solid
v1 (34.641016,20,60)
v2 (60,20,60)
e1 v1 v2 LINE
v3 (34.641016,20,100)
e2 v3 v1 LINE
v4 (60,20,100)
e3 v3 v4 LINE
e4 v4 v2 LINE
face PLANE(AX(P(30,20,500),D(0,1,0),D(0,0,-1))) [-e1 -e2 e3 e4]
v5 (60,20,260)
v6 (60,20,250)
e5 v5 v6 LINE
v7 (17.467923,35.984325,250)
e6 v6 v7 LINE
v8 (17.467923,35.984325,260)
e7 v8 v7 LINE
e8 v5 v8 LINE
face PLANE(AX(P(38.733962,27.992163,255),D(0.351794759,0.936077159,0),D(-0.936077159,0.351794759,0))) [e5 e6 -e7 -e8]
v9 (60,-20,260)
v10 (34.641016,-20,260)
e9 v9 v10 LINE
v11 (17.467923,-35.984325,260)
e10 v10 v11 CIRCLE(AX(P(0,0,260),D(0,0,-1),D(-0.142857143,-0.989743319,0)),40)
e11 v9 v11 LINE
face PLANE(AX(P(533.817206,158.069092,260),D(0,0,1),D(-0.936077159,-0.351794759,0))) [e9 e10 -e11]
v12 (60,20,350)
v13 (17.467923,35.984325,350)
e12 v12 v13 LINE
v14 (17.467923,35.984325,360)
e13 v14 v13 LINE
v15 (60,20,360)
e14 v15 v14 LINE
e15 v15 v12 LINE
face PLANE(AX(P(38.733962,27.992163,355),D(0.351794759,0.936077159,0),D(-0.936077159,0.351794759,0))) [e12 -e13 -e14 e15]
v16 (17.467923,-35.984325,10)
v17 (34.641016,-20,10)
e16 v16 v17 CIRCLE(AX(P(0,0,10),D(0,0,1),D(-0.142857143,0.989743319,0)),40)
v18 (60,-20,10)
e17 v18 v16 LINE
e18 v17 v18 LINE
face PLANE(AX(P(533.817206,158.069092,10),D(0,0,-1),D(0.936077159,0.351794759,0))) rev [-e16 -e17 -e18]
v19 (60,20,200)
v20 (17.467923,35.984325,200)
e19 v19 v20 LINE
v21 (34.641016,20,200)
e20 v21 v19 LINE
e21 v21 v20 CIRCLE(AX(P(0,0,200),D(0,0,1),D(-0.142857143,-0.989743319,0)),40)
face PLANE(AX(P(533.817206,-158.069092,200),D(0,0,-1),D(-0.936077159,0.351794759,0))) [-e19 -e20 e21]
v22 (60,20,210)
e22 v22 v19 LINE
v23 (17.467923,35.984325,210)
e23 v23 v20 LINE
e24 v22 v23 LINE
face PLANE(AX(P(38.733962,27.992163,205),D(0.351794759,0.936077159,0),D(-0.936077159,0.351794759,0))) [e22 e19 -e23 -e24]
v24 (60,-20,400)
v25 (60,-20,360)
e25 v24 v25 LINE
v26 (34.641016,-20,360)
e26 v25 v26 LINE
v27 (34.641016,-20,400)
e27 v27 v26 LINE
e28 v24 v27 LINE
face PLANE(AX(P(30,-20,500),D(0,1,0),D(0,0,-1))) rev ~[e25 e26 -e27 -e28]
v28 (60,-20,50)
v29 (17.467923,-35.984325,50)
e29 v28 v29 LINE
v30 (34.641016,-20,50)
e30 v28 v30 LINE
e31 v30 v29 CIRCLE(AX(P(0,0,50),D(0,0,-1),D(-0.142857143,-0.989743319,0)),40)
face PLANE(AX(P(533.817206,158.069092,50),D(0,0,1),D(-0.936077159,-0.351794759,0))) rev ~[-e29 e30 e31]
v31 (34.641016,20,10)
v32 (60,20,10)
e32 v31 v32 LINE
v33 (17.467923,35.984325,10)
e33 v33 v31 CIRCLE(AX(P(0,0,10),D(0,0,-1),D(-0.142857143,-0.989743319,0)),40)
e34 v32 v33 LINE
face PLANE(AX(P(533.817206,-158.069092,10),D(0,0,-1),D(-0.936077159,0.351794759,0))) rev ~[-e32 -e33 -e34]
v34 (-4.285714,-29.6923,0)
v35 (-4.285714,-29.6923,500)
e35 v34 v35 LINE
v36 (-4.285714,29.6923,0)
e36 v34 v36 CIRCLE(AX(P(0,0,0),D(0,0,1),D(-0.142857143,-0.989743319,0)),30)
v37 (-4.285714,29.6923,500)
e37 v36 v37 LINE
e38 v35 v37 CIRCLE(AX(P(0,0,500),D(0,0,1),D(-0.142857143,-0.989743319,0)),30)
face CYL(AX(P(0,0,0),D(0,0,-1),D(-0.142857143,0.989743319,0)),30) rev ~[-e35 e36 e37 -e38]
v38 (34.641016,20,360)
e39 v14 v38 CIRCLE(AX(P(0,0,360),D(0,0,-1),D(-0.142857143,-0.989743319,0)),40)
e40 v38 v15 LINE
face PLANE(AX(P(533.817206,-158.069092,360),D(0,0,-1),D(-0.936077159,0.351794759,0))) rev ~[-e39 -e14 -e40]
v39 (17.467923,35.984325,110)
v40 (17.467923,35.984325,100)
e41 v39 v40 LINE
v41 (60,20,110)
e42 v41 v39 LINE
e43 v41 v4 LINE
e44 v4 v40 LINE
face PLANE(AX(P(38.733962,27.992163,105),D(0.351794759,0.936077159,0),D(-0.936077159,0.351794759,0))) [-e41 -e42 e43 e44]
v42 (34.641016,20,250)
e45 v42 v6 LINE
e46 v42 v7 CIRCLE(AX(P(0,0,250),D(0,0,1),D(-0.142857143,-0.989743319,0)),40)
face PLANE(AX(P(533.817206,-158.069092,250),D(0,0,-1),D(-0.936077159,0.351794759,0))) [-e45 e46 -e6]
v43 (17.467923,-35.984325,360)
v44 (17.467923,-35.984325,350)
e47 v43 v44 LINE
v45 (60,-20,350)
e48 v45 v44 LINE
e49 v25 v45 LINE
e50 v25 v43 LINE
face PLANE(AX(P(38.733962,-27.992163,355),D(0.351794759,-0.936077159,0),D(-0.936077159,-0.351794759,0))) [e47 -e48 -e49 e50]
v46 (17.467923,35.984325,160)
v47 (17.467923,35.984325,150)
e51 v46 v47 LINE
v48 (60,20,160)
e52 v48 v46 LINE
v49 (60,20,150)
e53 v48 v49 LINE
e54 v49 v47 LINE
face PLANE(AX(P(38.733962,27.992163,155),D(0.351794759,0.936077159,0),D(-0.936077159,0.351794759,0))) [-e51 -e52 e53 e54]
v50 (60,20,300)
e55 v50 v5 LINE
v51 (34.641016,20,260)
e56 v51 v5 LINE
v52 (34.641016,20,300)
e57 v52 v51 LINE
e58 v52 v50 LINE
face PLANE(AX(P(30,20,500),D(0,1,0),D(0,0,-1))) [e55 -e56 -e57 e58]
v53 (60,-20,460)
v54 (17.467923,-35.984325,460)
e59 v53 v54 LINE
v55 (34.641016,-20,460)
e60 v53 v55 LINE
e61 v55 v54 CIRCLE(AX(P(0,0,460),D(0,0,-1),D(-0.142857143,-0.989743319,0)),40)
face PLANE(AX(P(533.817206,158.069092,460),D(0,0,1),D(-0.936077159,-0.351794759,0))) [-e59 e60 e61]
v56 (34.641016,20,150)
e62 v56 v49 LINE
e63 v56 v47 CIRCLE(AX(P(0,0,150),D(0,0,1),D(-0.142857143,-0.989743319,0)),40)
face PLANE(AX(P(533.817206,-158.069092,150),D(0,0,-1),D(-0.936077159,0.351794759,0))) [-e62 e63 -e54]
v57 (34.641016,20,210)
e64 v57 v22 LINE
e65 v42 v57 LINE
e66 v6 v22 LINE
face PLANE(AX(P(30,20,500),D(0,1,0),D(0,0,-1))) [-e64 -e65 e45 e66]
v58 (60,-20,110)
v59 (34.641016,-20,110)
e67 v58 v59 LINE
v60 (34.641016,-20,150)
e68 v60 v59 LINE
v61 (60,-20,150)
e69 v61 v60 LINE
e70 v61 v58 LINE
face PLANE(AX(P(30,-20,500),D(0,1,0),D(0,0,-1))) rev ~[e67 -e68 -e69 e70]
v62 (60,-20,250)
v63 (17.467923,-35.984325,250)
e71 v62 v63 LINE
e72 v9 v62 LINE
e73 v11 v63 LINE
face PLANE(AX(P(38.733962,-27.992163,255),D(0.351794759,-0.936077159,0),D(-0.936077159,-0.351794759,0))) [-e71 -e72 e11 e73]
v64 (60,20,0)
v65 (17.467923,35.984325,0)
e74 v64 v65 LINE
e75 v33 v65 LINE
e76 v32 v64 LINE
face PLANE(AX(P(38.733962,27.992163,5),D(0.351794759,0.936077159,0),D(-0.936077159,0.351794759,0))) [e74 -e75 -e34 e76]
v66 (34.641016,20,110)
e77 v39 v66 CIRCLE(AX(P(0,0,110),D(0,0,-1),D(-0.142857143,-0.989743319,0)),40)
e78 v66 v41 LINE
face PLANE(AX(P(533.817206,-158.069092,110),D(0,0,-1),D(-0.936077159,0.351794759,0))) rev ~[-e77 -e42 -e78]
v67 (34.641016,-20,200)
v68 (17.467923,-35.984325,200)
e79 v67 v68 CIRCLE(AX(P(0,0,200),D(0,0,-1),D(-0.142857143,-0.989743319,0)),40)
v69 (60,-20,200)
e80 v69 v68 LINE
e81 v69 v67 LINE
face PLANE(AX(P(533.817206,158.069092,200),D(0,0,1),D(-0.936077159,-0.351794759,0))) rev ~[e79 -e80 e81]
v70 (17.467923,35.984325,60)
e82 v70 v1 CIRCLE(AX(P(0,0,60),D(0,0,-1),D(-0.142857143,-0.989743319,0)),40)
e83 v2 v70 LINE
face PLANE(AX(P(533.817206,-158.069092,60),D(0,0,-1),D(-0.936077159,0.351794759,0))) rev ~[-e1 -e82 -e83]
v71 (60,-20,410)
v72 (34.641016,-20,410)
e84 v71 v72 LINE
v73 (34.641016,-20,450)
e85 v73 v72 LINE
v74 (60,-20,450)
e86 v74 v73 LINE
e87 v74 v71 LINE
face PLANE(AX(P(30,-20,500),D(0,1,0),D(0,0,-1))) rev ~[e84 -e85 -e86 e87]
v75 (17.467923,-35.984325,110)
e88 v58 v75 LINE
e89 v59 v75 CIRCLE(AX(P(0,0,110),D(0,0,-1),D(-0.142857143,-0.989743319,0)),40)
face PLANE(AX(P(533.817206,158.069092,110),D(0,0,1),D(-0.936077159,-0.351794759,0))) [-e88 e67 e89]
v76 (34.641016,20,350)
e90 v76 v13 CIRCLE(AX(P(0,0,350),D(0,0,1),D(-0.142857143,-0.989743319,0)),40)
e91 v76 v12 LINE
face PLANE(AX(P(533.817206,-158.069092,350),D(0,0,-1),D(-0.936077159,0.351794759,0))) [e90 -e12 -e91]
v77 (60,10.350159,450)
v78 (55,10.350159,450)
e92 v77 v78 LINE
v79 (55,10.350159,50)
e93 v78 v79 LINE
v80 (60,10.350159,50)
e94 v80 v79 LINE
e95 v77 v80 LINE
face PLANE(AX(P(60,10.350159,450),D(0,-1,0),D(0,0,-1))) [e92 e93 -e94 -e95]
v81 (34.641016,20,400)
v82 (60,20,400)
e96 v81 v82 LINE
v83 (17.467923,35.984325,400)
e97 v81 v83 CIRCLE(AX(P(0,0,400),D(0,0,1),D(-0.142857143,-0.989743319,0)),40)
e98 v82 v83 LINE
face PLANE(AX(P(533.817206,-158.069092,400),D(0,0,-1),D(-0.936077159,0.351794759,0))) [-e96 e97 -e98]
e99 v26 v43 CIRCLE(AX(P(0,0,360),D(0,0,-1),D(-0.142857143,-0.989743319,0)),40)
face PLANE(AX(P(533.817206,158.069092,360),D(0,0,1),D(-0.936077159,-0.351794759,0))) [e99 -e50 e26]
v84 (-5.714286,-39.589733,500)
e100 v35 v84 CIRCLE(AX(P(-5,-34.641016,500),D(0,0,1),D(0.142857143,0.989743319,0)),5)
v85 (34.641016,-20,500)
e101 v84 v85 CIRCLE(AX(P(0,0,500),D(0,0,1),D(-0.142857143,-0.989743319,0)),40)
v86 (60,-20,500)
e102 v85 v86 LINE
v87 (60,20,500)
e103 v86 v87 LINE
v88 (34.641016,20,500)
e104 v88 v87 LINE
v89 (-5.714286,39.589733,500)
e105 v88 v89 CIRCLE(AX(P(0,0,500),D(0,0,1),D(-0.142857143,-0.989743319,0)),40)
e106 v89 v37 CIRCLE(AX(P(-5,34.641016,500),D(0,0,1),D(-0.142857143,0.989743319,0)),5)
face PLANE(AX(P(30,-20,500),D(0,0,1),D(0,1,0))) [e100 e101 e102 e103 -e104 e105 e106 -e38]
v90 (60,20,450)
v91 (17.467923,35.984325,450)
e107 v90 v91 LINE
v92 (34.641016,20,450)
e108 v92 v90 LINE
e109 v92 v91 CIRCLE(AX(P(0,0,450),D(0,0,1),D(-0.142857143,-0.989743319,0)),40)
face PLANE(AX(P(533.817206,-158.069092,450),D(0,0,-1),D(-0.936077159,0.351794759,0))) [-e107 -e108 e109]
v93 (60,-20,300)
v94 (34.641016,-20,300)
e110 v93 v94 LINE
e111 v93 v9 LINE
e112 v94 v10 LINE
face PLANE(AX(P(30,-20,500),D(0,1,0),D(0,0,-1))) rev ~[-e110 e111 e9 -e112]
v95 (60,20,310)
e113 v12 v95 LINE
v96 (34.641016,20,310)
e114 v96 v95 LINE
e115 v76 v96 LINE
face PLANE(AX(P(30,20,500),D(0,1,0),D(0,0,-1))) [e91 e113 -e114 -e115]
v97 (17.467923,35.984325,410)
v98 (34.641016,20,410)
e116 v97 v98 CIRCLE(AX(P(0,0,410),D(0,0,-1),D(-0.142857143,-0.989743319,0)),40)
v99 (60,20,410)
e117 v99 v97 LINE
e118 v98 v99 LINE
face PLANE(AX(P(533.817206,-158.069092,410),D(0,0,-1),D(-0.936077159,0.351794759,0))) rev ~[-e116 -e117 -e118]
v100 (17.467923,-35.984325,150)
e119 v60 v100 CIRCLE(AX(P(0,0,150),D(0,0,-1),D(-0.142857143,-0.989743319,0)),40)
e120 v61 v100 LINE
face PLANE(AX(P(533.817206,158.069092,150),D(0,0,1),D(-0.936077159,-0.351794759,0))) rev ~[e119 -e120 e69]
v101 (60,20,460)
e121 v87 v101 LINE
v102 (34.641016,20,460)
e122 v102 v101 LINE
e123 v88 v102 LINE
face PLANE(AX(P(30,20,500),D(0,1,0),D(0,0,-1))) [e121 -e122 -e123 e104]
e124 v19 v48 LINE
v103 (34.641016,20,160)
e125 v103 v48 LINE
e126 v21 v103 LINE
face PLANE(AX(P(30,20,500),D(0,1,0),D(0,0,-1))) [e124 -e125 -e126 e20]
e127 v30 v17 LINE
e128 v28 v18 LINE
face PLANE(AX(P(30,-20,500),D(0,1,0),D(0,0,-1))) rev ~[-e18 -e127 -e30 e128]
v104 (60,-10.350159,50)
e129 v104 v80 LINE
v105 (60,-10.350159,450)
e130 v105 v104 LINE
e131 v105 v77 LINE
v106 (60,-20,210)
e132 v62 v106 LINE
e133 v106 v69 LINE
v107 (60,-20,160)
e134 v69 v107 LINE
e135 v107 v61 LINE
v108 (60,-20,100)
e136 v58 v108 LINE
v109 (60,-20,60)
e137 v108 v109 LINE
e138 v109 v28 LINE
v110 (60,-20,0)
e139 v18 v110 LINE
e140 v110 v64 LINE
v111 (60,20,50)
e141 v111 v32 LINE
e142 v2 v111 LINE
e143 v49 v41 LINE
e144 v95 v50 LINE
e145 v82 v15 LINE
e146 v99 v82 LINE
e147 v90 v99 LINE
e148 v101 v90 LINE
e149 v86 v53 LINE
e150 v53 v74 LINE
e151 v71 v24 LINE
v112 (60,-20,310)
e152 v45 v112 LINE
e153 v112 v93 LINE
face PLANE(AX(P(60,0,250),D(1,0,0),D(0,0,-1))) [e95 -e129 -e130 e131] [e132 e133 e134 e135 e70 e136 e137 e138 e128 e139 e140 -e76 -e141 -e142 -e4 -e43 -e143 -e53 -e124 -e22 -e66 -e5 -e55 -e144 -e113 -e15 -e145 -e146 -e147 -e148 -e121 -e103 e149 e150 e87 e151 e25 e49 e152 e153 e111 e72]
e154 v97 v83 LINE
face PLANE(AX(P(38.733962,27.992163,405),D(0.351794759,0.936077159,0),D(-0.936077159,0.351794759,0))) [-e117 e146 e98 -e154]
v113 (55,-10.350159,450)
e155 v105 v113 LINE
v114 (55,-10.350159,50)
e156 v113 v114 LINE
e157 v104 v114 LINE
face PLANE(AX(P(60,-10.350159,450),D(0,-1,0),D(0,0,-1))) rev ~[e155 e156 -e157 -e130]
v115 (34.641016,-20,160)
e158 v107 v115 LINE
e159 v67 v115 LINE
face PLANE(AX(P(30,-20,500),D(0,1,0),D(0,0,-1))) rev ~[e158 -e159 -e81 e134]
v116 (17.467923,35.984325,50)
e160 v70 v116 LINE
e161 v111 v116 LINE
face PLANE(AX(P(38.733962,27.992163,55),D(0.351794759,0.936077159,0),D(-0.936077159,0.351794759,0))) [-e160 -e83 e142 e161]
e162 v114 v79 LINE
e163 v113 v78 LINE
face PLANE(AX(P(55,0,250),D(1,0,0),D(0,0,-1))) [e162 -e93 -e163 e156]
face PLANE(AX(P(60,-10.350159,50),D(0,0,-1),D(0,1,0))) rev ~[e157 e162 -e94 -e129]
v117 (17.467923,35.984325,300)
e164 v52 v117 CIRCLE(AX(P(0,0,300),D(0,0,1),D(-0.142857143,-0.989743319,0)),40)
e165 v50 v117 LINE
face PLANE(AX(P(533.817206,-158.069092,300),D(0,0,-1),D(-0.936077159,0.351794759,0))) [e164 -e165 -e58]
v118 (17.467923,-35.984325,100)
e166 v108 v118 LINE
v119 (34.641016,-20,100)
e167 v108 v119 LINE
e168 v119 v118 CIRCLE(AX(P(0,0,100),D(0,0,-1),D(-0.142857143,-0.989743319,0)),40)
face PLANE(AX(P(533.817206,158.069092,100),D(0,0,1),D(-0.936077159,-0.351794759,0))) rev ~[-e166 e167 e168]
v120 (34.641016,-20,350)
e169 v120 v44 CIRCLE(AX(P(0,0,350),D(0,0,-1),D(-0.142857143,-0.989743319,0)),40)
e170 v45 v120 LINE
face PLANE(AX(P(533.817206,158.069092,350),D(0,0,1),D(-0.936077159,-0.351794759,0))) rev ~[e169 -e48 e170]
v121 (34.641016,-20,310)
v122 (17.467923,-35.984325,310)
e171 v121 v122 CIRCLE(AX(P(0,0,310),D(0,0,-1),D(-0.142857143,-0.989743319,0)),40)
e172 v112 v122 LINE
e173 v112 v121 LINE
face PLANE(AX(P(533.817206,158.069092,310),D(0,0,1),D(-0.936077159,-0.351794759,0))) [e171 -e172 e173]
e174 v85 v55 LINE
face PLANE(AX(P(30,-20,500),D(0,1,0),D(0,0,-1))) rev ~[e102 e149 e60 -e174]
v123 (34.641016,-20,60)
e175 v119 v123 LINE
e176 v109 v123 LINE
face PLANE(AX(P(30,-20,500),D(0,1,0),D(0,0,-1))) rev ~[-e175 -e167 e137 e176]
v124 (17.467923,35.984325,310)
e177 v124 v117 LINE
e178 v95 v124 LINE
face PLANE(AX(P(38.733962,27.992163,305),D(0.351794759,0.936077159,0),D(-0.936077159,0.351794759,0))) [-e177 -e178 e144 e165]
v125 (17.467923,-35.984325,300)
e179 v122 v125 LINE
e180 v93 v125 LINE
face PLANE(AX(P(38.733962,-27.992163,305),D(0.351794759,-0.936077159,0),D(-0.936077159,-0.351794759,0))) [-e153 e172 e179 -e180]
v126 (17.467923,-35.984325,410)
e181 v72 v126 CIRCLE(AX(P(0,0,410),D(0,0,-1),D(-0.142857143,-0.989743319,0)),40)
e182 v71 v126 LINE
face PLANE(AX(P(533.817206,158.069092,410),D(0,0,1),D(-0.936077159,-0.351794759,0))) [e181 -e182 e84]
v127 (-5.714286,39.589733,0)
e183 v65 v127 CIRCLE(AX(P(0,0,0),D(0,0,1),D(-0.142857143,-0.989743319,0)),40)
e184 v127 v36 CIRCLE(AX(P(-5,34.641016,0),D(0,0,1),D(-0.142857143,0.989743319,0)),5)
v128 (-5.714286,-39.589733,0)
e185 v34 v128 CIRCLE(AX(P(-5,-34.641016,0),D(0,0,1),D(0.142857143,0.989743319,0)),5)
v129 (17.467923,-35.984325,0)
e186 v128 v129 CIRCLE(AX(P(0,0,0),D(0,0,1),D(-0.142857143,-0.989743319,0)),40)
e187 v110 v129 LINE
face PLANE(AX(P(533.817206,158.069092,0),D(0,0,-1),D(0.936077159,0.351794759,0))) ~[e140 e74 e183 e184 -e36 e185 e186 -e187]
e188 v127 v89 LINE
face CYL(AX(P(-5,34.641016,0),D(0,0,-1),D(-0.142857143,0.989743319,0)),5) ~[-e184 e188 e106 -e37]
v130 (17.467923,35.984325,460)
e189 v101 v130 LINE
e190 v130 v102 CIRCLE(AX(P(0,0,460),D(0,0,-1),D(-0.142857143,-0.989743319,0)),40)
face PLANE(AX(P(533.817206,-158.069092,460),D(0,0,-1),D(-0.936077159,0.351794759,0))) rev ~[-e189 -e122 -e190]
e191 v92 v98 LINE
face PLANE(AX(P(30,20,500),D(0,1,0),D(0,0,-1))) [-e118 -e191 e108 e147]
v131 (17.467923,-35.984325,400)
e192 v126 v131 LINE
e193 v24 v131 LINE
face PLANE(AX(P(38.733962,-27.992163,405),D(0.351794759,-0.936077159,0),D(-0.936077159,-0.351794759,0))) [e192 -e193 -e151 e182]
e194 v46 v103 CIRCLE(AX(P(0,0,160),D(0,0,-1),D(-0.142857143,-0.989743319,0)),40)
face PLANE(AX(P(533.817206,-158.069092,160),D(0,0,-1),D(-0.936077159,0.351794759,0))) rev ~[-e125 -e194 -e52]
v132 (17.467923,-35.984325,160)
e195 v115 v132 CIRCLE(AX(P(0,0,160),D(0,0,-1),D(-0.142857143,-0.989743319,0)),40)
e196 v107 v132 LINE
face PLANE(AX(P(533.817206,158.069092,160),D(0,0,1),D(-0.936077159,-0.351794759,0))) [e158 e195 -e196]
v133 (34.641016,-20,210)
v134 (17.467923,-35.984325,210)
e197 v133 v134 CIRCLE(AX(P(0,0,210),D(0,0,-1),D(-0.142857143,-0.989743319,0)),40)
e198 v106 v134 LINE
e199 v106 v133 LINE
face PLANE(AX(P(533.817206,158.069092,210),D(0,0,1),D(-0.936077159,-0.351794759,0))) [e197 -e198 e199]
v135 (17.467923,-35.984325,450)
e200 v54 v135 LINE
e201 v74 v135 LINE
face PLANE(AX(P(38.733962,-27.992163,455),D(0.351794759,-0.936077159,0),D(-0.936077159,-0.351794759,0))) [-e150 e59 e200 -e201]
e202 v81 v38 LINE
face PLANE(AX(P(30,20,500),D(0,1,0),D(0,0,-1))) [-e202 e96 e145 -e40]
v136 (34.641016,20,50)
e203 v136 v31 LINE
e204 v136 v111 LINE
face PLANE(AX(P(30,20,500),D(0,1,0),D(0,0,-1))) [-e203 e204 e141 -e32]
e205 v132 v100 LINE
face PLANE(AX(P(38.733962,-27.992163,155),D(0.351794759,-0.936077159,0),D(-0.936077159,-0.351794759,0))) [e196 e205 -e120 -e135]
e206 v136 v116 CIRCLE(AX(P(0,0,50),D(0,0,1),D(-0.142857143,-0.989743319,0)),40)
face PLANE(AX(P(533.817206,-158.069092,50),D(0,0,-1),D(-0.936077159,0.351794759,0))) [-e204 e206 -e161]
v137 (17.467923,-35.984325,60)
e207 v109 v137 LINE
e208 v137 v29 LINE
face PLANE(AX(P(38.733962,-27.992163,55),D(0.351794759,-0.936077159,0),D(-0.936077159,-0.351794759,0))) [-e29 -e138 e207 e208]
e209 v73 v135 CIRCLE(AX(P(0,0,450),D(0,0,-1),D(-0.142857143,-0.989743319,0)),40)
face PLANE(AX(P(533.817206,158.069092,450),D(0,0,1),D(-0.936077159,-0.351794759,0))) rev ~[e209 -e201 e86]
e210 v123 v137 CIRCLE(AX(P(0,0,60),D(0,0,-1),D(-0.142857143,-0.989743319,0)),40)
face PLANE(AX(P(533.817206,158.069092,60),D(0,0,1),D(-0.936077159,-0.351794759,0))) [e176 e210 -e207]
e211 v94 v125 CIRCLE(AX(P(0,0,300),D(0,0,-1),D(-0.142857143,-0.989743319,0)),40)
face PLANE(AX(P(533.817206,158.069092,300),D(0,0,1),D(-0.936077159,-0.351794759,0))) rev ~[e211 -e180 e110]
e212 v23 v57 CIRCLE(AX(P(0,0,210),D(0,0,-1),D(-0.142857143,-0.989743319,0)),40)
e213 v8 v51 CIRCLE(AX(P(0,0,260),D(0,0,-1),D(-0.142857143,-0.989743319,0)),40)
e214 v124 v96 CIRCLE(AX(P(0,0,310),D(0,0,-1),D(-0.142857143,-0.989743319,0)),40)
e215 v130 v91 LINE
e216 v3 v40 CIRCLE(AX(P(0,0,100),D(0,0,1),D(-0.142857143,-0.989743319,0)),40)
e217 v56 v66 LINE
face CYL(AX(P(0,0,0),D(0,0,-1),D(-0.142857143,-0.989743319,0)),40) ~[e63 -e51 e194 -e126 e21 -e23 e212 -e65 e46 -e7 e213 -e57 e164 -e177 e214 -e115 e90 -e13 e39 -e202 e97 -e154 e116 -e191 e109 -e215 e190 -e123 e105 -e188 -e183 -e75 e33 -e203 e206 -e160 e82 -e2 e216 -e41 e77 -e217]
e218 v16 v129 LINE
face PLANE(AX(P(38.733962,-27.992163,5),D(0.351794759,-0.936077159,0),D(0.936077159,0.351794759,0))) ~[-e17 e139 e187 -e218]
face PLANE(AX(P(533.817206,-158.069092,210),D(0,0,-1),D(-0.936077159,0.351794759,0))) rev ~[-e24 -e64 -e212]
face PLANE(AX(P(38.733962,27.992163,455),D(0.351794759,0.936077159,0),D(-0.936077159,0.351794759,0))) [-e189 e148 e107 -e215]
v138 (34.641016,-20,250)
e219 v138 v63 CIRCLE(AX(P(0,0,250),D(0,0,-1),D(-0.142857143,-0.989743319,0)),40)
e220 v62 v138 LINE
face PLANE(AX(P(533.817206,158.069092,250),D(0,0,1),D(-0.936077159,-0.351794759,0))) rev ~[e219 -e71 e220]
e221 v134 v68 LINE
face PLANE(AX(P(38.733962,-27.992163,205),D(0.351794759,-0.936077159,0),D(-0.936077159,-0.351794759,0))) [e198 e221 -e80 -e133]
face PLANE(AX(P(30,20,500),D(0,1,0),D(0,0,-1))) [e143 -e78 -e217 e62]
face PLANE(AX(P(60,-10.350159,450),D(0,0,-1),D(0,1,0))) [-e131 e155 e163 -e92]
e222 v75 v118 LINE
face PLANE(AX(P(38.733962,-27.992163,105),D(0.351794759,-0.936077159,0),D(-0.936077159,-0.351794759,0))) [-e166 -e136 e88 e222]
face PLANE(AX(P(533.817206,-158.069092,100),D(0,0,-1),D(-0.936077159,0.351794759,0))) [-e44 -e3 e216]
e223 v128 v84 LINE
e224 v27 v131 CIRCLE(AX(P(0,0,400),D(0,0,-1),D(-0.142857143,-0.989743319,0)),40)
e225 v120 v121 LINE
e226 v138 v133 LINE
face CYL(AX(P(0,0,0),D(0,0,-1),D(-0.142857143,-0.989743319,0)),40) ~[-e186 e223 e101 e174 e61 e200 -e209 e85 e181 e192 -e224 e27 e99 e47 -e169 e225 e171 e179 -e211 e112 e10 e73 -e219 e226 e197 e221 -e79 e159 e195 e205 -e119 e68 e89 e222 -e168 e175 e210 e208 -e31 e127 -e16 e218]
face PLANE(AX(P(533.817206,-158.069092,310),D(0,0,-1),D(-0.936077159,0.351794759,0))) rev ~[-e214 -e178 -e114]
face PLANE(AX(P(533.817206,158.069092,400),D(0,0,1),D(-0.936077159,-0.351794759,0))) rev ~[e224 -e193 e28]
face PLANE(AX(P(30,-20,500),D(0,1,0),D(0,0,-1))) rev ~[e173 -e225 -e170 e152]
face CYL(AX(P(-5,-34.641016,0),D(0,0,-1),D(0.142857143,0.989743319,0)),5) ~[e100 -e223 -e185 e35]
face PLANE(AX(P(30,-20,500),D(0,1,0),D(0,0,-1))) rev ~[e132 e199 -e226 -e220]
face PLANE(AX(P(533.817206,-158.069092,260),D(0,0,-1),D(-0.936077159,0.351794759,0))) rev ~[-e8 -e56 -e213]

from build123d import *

# Parameters (mm, degrees)
BOSS_EXTRUDE1_DEPTH     = 500
BOSS_EXTRUDE2_START     = 30
SKETCH2_W               = 500
SKETCH2_H               = 40
BOSS_EXTRUDE2_DEPTH     = 30
RIB1_REACH              = 507.173
SKETCH4_WALL_W          = 1057.782982674
SKETCH4_WALL_H          = 10
LPATTERN1_COUNT         = 10
LPATTERN1_PITCH         = 50
MIRROR1_COPY_1_REACH    = 507.173
MIRROR1_COPY_1_SKETCH_W = 1057.782982674
MIRROR1_COPY_1_SKETCH_H = 10
MIRROR1_COPY_2_REACH    = 507.173
MIRROR1_COPY_2_SKETCH_W = 1057.782982674
MIRROR1_COPY_2_SKETCH_H = 10
MIRROR1_COPY_3_REACH    = 507.173
MIRROR1_COPY_3_SKETCH_W = 1057.782982674
MIRROR1_COPY_3_SKETCH_H = 10
MIRROR1_COPY_4_REACH    = 507.173
MIRROR1_COPY_4_SKETCH_W = 1057.782982674
MIRROR1_COPY_4_SKETCH_H = 10
MIRROR1_COPY_5_REACH    = 507.173
MIRROR1_COPY_5_SKETCH_W = 1057.782982674
MIRROR1_COPY_5_SKETCH_H = 10
MIRROR1_COPY_6_REACH    = 507.173
MIRROR1_COPY_6_SKETCH_W = 1057.782982674
MIRROR1_COPY_6_SKETCH_H = 10
MIRROR1_COPY_7_REACH    = 507.173
MIRROR1_COPY_7_SKETCH_W = 1057.782982674
MIRROR1_COPY_7_SKETCH_H = 10
MIRROR1_COPY_8_REACH    = 507.173
MIRROR1_COPY_8_SKETCH_W = 1057.782982674
MIRROR1_COPY_8_SKETCH_H = 10
MIRROR1_COPY_9_REACH    = 507.173
MIRROR1_COPY_9_SKETCH_W = 1057.782982674
MIRROR1_COPY_9_SKETCH_H = 10
SKETCH5_W               = 400
SKETCH5_H               = 20.700317686
CUT_EXTRUDE1_DEPTH      = 5


with BuildPart() as part:
    # Sketch1 → Boss-Extrude1 (new body)
    with BuildSketch(Plane.XY):
        with BuildLine():
            ThreePointArc((-5.714285714, 39.589732744), (-9.948716593, 33.926730437), (-4.285714286, 29.692299558))
            ThreePointArc((-4.285714286, 29.692299558), (30, 0), (-4.285714286, -29.692299558))
            ThreePointArc((-4.285714286, -29.692299558), (-9.948716593, -33.926730437), (-5.714285714, -39.589732744))
            ThreePointArc((-5.714285714, -39.589732744), (40, 0), (-5.714285714, 39.589732744))
        make_face()
    extrude(amount=BOSS_EXTRUDE1_DEPTH)

    # Sketch2 → Boss-Extrude2 (add)
    with BuildSketch(Plane(origin=(0, 0, 0), x_dir=(0, 0, -1), z_dir=(1, 0, 0)).offset(BOSS_EXTRUDE2_START)):
        with Locations((-250, 0)):
            Rectangle(SKETCH2_W, SKETCH2_H)
    extrude(amount=BOSS_EXTRUDE2_DEPTH)

    # Sketch4 wall → Rib1 (add, up to next)
    with BuildSketch(Plane(origin=(38.733961597, 27.992162595, 0), x_dir=(-0.936077158958, 0.351794759025, 0), z_dir=(0.351794759025, 0.936077158958, 0)), mode=Mode.PRIVATE) as rib1_sk1:
        with Locations((0, 5)):
            Rectangle(SKETCH4_WALL_W, SKETCH4_WALL_H)
    rib1_tool1 = extrude(rib1_sk1.sketch, amount=-RIB1_REACH, mode=Mode.PRIVATE) - part.part
    rib1 = rib1_tool1.solids().sort_by_distance((38.733961597, 27.992162595, 0))[0]
    add(rib1)

    # LPattern1: Rib1 ×10
    with Locations(*[(0, 0, i * LPATTERN1_PITCH) for i in range(1, LPATTERN1_COUNT)]):
        add(rib1)

    # Mirror1: Rib1 across plane
    add(rib1.mirror(Plane.ZX))

    # Mirror1 copy 1 sketch → Mirror1 copy 1 (add, up to next)
    with BuildSketch(Plane(origin=(38.733961597, -27.992162595, 50), x_dir=(-0.936077158958, -0.351794759025, 0), z_dir=(0.351794759025, -0.936077158958, 0)), mode=Mode.PRIVATE) as mirror1_copy_1_sk1:
        with Locations((0, -5)):
            Rectangle(MIRROR1_COPY_1_SKETCH_W, MIRROR1_COPY_1_SKETCH_H)
    mirror1_copy_1_tool1 = extrude(mirror1_copy_1_sk1.sketch, amount=-MIRROR1_COPY_1_REACH, mode=Mode.PRIVATE) - part.part
    add(mirror1_copy_1_tool1.solids().sort_by_distance((38.733961597, -27.992162595, 50))[0])

    # Mirror1 copy 2 sketch → Mirror1 copy 2 (add, up to next)
    with BuildSketch(Plane(origin=(38.733961597, -27.992162595, 100), x_dir=(-0.936077158958, -0.351794759025, 0), z_dir=(0.351794759025, -0.936077158958, 0)), mode=Mode.PRIVATE) as mirror1_copy_2_sk1:
        with Locations((0, -5)):
            Rectangle(MIRROR1_COPY_2_SKETCH_W, MIRROR1_COPY_2_SKETCH_H)
    mirror1_copy_2_tool1 = extrude(mirror1_copy_2_sk1.sketch, amount=-MIRROR1_COPY_2_REACH, mode=Mode.PRIVATE) - part.part
    add(mirror1_copy_2_tool1.solids().sort_by_distance((38.733961597, -27.992162595, 100))[0])

    # Mirror1 copy 3 sketch → Mirror1 copy 3 (add, up to next)
    with BuildSketch(Plane(origin=(38.733961597, -27.992162595, 150), x_dir=(-0.936077158958, -0.351794759025, 0), z_dir=(0.351794759025, -0.936077158958, 0)), mode=Mode.PRIVATE) as mirror1_copy_3_sk1:
        with Locations((0, -5)):
            Rectangle(MIRROR1_COPY_3_SKETCH_W, MIRROR1_COPY_3_SKETCH_H)
    mirror1_copy_3_tool1 = extrude(mirror1_copy_3_sk1.sketch, amount=-MIRROR1_COPY_3_REACH, mode=Mode.PRIVATE) - part.part
    add(mirror1_copy_3_tool1.solids().sort_by_distance((38.733961597, -27.992162595, 150))[0])

    # Mirror1 copy 4 sketch → Mirror1 copy 4 (add, up to next)
    with BuildSketch(Plane(origin=(38.733961597, -27.992162595, 200), x_dir=(-0.936077158958, -0.351794759025, 0), z_dir=(0.351794759025, -0.936077158958, 0)), mode=Mode.PRIVATE) as mirror1_copy_4_sk1:
        with Locations((0, -5)):
            Rectangle(MIRROR1_COPY_4_SKETCH_W, MIRROR1_COPY_4_SKETCH_H)
    mirror1_copy_4_tool1 = extrude(mirror1_copy_4_sk1.sketch, amount=-MIRROR1_COPY_4_REACH, mode=Mode.PRIVATE) - part.part
    add(mirror1_copy_4_tool1.solids().sort_by_distance((38.733961597, -27.992162595, 200))[0])

    # Mirror1 copy 5 sketch → Mirror1 copy 5 (add, up to next)
    with BuildSketch(Plane(origin=(38.733961597, -27.992162595, 250), x_dir=(-0.936077158958, -0.351794759025, 0), z_dir=(0.351794759025, -0.936077158958, 0)), mode=Mode.PRIVATE) as mirror1_copy_5_sk1:
        with Locations((0, -5)):
            Rectangle(MIRROR1_COPY_5_SKETCH_W, MIRROR1_COPY_5_SKETCH_H)
    mirror1_copy_5_tool1 = extrude(mirror1_copy_5_sk1.sketch, amount=-MIRROR1_COPY_5_REACH, mode=Mode.PRIVATE) - part.part
    add(mirror1_copy_5_tool1.solids().sort_by_distance((38.733961597, -27.992162595, 250))[0])

    # Mirror1 copy 6 sketch → Mirror1 copy 6 (add, up to next)
    with BuildSketch(Plane(origin=(38.733961597, -27.992162595, 300), x_dir=(-0.936077158958, -0.351794759025, 0), z_dir=(0.351794759025, -0.936077158958, 0)), mode=Mode.PRIVATE) as mirror1_copy_6_sk1:
        with Locations((0, -5)):
            Rectangle(MIRROR1_COPY_6_SKETCH_W, MIRROR1_COPY_6_SKETCH_H)
    mirror1_copy_6_tool1 = extrude(mirror1_copy_6_sk1.sketch, amount=-MIRROR1_COPY_6_REACH, mode=Mode.PRIVATE) - part.part
    add(mirror1_copy_6_tool1.solids().sort_by_distance((38.733961597, -27.992162595, 300))[0])

    # Mirror1 copy 7 sketch → Mirror1 copy 7 (add, up to next)
    with BuildSketch(Plane(origin=(38.733961597, -27.992162595, 350), x_dir=(-0.936077158958, -0.351794759025, 0), z_dir=(0.351794759025, -0.936077158958, 0)), mode=Mode.PRIVATE) as mirror1_copy_7_sk1:
        with Locations((0, -5)):
            Rectangle(MIRROR1_COPY_7_SKETCH_W, MIRROR1_COPY_7_SKETCH_H)
    mirror1_copy_7_tool1 = extrude(mirror1_copy_7_sk1.sketch, amount=-MIRROR1_COPY_7_REACH, mode=Mode.PRIVATE) - part.part
    add(mirror1_copy_7_tool1.solids().sort_by_distance((38.733961597, -27.992162595, 350))[0])

    # Mirror1 copy 8 sketch → Mirror1 copy 8 (add, up to next)
    with BuildSketch(Plane(origin=(38.733961597, -27.992162595, 400), x_dir=(-0.936077158958, -0.351794759025, 0), z_dir=(0.351794759025, -0.936077158958, 0)), mode=Mode.PRIVATE) as mirror1_copy_8_sk1:
        with Locations((0, -5)):
            Rectangle(MIRROR1_COPY_8_SKETCH_W, MIRROR1_COPY_8_SKETCH_H)
    mirror1_copy_8_tool1 = extrude(mirror1_copy_8_sk1.sketch, amount=-MIRROR1_COPY_8_REACH, mode=Mode.PRIVATE) - part.part
    add(mirror1_copy_8_tool1.solids().sort_by_distance((38.733961597, -27.992162595, 400))[0])

    # Mirror1 copy 9 sketch → Mirror1 copy 9 (add, up to next)
    with BuildSketch(Plane(origin=(38.733961597, -27.992162595, 450), x_dir=(-0.936077158958, -0.351794759025, 0), z_dir=(0.351794759025, -0.936077158958, 0)), mode=Mode.PRIVATE) as mirror1_copy_9_sk1:
        with Locations((0, -5)):
            Rectangle(MIRROR1_COPY_9_SKETCH_W, MIRROR1_COPY_9_SKETCH_H)
    mirror1_copy_9_tool1 = extrude(mirror1_copy_9_sk1.sketch, amount=-MIRROR1_COPY_9_REACH, mode=Mode.PRIVATE) - part.part
    add(mirror1_copy_9_tool1.solids().sort_by_distance((38.733961597, -27.992162595, 450))[0])

    # Sketch5 → Cut-Extrude1 (cut)
    with BuildSketch(Plane(origin=(60, 0, 0), x_dir=(0, 0, -1), z_dir=(1, 0, 0))):
        with Locations((-250, 0)):
            Rectangle(SKETCH5_W, SKETCH5_H)
    extrude(amount=-CUT_EXTRUDE1_DEPTH, mode=Mode.SUBTRACT)


solid = part.part
